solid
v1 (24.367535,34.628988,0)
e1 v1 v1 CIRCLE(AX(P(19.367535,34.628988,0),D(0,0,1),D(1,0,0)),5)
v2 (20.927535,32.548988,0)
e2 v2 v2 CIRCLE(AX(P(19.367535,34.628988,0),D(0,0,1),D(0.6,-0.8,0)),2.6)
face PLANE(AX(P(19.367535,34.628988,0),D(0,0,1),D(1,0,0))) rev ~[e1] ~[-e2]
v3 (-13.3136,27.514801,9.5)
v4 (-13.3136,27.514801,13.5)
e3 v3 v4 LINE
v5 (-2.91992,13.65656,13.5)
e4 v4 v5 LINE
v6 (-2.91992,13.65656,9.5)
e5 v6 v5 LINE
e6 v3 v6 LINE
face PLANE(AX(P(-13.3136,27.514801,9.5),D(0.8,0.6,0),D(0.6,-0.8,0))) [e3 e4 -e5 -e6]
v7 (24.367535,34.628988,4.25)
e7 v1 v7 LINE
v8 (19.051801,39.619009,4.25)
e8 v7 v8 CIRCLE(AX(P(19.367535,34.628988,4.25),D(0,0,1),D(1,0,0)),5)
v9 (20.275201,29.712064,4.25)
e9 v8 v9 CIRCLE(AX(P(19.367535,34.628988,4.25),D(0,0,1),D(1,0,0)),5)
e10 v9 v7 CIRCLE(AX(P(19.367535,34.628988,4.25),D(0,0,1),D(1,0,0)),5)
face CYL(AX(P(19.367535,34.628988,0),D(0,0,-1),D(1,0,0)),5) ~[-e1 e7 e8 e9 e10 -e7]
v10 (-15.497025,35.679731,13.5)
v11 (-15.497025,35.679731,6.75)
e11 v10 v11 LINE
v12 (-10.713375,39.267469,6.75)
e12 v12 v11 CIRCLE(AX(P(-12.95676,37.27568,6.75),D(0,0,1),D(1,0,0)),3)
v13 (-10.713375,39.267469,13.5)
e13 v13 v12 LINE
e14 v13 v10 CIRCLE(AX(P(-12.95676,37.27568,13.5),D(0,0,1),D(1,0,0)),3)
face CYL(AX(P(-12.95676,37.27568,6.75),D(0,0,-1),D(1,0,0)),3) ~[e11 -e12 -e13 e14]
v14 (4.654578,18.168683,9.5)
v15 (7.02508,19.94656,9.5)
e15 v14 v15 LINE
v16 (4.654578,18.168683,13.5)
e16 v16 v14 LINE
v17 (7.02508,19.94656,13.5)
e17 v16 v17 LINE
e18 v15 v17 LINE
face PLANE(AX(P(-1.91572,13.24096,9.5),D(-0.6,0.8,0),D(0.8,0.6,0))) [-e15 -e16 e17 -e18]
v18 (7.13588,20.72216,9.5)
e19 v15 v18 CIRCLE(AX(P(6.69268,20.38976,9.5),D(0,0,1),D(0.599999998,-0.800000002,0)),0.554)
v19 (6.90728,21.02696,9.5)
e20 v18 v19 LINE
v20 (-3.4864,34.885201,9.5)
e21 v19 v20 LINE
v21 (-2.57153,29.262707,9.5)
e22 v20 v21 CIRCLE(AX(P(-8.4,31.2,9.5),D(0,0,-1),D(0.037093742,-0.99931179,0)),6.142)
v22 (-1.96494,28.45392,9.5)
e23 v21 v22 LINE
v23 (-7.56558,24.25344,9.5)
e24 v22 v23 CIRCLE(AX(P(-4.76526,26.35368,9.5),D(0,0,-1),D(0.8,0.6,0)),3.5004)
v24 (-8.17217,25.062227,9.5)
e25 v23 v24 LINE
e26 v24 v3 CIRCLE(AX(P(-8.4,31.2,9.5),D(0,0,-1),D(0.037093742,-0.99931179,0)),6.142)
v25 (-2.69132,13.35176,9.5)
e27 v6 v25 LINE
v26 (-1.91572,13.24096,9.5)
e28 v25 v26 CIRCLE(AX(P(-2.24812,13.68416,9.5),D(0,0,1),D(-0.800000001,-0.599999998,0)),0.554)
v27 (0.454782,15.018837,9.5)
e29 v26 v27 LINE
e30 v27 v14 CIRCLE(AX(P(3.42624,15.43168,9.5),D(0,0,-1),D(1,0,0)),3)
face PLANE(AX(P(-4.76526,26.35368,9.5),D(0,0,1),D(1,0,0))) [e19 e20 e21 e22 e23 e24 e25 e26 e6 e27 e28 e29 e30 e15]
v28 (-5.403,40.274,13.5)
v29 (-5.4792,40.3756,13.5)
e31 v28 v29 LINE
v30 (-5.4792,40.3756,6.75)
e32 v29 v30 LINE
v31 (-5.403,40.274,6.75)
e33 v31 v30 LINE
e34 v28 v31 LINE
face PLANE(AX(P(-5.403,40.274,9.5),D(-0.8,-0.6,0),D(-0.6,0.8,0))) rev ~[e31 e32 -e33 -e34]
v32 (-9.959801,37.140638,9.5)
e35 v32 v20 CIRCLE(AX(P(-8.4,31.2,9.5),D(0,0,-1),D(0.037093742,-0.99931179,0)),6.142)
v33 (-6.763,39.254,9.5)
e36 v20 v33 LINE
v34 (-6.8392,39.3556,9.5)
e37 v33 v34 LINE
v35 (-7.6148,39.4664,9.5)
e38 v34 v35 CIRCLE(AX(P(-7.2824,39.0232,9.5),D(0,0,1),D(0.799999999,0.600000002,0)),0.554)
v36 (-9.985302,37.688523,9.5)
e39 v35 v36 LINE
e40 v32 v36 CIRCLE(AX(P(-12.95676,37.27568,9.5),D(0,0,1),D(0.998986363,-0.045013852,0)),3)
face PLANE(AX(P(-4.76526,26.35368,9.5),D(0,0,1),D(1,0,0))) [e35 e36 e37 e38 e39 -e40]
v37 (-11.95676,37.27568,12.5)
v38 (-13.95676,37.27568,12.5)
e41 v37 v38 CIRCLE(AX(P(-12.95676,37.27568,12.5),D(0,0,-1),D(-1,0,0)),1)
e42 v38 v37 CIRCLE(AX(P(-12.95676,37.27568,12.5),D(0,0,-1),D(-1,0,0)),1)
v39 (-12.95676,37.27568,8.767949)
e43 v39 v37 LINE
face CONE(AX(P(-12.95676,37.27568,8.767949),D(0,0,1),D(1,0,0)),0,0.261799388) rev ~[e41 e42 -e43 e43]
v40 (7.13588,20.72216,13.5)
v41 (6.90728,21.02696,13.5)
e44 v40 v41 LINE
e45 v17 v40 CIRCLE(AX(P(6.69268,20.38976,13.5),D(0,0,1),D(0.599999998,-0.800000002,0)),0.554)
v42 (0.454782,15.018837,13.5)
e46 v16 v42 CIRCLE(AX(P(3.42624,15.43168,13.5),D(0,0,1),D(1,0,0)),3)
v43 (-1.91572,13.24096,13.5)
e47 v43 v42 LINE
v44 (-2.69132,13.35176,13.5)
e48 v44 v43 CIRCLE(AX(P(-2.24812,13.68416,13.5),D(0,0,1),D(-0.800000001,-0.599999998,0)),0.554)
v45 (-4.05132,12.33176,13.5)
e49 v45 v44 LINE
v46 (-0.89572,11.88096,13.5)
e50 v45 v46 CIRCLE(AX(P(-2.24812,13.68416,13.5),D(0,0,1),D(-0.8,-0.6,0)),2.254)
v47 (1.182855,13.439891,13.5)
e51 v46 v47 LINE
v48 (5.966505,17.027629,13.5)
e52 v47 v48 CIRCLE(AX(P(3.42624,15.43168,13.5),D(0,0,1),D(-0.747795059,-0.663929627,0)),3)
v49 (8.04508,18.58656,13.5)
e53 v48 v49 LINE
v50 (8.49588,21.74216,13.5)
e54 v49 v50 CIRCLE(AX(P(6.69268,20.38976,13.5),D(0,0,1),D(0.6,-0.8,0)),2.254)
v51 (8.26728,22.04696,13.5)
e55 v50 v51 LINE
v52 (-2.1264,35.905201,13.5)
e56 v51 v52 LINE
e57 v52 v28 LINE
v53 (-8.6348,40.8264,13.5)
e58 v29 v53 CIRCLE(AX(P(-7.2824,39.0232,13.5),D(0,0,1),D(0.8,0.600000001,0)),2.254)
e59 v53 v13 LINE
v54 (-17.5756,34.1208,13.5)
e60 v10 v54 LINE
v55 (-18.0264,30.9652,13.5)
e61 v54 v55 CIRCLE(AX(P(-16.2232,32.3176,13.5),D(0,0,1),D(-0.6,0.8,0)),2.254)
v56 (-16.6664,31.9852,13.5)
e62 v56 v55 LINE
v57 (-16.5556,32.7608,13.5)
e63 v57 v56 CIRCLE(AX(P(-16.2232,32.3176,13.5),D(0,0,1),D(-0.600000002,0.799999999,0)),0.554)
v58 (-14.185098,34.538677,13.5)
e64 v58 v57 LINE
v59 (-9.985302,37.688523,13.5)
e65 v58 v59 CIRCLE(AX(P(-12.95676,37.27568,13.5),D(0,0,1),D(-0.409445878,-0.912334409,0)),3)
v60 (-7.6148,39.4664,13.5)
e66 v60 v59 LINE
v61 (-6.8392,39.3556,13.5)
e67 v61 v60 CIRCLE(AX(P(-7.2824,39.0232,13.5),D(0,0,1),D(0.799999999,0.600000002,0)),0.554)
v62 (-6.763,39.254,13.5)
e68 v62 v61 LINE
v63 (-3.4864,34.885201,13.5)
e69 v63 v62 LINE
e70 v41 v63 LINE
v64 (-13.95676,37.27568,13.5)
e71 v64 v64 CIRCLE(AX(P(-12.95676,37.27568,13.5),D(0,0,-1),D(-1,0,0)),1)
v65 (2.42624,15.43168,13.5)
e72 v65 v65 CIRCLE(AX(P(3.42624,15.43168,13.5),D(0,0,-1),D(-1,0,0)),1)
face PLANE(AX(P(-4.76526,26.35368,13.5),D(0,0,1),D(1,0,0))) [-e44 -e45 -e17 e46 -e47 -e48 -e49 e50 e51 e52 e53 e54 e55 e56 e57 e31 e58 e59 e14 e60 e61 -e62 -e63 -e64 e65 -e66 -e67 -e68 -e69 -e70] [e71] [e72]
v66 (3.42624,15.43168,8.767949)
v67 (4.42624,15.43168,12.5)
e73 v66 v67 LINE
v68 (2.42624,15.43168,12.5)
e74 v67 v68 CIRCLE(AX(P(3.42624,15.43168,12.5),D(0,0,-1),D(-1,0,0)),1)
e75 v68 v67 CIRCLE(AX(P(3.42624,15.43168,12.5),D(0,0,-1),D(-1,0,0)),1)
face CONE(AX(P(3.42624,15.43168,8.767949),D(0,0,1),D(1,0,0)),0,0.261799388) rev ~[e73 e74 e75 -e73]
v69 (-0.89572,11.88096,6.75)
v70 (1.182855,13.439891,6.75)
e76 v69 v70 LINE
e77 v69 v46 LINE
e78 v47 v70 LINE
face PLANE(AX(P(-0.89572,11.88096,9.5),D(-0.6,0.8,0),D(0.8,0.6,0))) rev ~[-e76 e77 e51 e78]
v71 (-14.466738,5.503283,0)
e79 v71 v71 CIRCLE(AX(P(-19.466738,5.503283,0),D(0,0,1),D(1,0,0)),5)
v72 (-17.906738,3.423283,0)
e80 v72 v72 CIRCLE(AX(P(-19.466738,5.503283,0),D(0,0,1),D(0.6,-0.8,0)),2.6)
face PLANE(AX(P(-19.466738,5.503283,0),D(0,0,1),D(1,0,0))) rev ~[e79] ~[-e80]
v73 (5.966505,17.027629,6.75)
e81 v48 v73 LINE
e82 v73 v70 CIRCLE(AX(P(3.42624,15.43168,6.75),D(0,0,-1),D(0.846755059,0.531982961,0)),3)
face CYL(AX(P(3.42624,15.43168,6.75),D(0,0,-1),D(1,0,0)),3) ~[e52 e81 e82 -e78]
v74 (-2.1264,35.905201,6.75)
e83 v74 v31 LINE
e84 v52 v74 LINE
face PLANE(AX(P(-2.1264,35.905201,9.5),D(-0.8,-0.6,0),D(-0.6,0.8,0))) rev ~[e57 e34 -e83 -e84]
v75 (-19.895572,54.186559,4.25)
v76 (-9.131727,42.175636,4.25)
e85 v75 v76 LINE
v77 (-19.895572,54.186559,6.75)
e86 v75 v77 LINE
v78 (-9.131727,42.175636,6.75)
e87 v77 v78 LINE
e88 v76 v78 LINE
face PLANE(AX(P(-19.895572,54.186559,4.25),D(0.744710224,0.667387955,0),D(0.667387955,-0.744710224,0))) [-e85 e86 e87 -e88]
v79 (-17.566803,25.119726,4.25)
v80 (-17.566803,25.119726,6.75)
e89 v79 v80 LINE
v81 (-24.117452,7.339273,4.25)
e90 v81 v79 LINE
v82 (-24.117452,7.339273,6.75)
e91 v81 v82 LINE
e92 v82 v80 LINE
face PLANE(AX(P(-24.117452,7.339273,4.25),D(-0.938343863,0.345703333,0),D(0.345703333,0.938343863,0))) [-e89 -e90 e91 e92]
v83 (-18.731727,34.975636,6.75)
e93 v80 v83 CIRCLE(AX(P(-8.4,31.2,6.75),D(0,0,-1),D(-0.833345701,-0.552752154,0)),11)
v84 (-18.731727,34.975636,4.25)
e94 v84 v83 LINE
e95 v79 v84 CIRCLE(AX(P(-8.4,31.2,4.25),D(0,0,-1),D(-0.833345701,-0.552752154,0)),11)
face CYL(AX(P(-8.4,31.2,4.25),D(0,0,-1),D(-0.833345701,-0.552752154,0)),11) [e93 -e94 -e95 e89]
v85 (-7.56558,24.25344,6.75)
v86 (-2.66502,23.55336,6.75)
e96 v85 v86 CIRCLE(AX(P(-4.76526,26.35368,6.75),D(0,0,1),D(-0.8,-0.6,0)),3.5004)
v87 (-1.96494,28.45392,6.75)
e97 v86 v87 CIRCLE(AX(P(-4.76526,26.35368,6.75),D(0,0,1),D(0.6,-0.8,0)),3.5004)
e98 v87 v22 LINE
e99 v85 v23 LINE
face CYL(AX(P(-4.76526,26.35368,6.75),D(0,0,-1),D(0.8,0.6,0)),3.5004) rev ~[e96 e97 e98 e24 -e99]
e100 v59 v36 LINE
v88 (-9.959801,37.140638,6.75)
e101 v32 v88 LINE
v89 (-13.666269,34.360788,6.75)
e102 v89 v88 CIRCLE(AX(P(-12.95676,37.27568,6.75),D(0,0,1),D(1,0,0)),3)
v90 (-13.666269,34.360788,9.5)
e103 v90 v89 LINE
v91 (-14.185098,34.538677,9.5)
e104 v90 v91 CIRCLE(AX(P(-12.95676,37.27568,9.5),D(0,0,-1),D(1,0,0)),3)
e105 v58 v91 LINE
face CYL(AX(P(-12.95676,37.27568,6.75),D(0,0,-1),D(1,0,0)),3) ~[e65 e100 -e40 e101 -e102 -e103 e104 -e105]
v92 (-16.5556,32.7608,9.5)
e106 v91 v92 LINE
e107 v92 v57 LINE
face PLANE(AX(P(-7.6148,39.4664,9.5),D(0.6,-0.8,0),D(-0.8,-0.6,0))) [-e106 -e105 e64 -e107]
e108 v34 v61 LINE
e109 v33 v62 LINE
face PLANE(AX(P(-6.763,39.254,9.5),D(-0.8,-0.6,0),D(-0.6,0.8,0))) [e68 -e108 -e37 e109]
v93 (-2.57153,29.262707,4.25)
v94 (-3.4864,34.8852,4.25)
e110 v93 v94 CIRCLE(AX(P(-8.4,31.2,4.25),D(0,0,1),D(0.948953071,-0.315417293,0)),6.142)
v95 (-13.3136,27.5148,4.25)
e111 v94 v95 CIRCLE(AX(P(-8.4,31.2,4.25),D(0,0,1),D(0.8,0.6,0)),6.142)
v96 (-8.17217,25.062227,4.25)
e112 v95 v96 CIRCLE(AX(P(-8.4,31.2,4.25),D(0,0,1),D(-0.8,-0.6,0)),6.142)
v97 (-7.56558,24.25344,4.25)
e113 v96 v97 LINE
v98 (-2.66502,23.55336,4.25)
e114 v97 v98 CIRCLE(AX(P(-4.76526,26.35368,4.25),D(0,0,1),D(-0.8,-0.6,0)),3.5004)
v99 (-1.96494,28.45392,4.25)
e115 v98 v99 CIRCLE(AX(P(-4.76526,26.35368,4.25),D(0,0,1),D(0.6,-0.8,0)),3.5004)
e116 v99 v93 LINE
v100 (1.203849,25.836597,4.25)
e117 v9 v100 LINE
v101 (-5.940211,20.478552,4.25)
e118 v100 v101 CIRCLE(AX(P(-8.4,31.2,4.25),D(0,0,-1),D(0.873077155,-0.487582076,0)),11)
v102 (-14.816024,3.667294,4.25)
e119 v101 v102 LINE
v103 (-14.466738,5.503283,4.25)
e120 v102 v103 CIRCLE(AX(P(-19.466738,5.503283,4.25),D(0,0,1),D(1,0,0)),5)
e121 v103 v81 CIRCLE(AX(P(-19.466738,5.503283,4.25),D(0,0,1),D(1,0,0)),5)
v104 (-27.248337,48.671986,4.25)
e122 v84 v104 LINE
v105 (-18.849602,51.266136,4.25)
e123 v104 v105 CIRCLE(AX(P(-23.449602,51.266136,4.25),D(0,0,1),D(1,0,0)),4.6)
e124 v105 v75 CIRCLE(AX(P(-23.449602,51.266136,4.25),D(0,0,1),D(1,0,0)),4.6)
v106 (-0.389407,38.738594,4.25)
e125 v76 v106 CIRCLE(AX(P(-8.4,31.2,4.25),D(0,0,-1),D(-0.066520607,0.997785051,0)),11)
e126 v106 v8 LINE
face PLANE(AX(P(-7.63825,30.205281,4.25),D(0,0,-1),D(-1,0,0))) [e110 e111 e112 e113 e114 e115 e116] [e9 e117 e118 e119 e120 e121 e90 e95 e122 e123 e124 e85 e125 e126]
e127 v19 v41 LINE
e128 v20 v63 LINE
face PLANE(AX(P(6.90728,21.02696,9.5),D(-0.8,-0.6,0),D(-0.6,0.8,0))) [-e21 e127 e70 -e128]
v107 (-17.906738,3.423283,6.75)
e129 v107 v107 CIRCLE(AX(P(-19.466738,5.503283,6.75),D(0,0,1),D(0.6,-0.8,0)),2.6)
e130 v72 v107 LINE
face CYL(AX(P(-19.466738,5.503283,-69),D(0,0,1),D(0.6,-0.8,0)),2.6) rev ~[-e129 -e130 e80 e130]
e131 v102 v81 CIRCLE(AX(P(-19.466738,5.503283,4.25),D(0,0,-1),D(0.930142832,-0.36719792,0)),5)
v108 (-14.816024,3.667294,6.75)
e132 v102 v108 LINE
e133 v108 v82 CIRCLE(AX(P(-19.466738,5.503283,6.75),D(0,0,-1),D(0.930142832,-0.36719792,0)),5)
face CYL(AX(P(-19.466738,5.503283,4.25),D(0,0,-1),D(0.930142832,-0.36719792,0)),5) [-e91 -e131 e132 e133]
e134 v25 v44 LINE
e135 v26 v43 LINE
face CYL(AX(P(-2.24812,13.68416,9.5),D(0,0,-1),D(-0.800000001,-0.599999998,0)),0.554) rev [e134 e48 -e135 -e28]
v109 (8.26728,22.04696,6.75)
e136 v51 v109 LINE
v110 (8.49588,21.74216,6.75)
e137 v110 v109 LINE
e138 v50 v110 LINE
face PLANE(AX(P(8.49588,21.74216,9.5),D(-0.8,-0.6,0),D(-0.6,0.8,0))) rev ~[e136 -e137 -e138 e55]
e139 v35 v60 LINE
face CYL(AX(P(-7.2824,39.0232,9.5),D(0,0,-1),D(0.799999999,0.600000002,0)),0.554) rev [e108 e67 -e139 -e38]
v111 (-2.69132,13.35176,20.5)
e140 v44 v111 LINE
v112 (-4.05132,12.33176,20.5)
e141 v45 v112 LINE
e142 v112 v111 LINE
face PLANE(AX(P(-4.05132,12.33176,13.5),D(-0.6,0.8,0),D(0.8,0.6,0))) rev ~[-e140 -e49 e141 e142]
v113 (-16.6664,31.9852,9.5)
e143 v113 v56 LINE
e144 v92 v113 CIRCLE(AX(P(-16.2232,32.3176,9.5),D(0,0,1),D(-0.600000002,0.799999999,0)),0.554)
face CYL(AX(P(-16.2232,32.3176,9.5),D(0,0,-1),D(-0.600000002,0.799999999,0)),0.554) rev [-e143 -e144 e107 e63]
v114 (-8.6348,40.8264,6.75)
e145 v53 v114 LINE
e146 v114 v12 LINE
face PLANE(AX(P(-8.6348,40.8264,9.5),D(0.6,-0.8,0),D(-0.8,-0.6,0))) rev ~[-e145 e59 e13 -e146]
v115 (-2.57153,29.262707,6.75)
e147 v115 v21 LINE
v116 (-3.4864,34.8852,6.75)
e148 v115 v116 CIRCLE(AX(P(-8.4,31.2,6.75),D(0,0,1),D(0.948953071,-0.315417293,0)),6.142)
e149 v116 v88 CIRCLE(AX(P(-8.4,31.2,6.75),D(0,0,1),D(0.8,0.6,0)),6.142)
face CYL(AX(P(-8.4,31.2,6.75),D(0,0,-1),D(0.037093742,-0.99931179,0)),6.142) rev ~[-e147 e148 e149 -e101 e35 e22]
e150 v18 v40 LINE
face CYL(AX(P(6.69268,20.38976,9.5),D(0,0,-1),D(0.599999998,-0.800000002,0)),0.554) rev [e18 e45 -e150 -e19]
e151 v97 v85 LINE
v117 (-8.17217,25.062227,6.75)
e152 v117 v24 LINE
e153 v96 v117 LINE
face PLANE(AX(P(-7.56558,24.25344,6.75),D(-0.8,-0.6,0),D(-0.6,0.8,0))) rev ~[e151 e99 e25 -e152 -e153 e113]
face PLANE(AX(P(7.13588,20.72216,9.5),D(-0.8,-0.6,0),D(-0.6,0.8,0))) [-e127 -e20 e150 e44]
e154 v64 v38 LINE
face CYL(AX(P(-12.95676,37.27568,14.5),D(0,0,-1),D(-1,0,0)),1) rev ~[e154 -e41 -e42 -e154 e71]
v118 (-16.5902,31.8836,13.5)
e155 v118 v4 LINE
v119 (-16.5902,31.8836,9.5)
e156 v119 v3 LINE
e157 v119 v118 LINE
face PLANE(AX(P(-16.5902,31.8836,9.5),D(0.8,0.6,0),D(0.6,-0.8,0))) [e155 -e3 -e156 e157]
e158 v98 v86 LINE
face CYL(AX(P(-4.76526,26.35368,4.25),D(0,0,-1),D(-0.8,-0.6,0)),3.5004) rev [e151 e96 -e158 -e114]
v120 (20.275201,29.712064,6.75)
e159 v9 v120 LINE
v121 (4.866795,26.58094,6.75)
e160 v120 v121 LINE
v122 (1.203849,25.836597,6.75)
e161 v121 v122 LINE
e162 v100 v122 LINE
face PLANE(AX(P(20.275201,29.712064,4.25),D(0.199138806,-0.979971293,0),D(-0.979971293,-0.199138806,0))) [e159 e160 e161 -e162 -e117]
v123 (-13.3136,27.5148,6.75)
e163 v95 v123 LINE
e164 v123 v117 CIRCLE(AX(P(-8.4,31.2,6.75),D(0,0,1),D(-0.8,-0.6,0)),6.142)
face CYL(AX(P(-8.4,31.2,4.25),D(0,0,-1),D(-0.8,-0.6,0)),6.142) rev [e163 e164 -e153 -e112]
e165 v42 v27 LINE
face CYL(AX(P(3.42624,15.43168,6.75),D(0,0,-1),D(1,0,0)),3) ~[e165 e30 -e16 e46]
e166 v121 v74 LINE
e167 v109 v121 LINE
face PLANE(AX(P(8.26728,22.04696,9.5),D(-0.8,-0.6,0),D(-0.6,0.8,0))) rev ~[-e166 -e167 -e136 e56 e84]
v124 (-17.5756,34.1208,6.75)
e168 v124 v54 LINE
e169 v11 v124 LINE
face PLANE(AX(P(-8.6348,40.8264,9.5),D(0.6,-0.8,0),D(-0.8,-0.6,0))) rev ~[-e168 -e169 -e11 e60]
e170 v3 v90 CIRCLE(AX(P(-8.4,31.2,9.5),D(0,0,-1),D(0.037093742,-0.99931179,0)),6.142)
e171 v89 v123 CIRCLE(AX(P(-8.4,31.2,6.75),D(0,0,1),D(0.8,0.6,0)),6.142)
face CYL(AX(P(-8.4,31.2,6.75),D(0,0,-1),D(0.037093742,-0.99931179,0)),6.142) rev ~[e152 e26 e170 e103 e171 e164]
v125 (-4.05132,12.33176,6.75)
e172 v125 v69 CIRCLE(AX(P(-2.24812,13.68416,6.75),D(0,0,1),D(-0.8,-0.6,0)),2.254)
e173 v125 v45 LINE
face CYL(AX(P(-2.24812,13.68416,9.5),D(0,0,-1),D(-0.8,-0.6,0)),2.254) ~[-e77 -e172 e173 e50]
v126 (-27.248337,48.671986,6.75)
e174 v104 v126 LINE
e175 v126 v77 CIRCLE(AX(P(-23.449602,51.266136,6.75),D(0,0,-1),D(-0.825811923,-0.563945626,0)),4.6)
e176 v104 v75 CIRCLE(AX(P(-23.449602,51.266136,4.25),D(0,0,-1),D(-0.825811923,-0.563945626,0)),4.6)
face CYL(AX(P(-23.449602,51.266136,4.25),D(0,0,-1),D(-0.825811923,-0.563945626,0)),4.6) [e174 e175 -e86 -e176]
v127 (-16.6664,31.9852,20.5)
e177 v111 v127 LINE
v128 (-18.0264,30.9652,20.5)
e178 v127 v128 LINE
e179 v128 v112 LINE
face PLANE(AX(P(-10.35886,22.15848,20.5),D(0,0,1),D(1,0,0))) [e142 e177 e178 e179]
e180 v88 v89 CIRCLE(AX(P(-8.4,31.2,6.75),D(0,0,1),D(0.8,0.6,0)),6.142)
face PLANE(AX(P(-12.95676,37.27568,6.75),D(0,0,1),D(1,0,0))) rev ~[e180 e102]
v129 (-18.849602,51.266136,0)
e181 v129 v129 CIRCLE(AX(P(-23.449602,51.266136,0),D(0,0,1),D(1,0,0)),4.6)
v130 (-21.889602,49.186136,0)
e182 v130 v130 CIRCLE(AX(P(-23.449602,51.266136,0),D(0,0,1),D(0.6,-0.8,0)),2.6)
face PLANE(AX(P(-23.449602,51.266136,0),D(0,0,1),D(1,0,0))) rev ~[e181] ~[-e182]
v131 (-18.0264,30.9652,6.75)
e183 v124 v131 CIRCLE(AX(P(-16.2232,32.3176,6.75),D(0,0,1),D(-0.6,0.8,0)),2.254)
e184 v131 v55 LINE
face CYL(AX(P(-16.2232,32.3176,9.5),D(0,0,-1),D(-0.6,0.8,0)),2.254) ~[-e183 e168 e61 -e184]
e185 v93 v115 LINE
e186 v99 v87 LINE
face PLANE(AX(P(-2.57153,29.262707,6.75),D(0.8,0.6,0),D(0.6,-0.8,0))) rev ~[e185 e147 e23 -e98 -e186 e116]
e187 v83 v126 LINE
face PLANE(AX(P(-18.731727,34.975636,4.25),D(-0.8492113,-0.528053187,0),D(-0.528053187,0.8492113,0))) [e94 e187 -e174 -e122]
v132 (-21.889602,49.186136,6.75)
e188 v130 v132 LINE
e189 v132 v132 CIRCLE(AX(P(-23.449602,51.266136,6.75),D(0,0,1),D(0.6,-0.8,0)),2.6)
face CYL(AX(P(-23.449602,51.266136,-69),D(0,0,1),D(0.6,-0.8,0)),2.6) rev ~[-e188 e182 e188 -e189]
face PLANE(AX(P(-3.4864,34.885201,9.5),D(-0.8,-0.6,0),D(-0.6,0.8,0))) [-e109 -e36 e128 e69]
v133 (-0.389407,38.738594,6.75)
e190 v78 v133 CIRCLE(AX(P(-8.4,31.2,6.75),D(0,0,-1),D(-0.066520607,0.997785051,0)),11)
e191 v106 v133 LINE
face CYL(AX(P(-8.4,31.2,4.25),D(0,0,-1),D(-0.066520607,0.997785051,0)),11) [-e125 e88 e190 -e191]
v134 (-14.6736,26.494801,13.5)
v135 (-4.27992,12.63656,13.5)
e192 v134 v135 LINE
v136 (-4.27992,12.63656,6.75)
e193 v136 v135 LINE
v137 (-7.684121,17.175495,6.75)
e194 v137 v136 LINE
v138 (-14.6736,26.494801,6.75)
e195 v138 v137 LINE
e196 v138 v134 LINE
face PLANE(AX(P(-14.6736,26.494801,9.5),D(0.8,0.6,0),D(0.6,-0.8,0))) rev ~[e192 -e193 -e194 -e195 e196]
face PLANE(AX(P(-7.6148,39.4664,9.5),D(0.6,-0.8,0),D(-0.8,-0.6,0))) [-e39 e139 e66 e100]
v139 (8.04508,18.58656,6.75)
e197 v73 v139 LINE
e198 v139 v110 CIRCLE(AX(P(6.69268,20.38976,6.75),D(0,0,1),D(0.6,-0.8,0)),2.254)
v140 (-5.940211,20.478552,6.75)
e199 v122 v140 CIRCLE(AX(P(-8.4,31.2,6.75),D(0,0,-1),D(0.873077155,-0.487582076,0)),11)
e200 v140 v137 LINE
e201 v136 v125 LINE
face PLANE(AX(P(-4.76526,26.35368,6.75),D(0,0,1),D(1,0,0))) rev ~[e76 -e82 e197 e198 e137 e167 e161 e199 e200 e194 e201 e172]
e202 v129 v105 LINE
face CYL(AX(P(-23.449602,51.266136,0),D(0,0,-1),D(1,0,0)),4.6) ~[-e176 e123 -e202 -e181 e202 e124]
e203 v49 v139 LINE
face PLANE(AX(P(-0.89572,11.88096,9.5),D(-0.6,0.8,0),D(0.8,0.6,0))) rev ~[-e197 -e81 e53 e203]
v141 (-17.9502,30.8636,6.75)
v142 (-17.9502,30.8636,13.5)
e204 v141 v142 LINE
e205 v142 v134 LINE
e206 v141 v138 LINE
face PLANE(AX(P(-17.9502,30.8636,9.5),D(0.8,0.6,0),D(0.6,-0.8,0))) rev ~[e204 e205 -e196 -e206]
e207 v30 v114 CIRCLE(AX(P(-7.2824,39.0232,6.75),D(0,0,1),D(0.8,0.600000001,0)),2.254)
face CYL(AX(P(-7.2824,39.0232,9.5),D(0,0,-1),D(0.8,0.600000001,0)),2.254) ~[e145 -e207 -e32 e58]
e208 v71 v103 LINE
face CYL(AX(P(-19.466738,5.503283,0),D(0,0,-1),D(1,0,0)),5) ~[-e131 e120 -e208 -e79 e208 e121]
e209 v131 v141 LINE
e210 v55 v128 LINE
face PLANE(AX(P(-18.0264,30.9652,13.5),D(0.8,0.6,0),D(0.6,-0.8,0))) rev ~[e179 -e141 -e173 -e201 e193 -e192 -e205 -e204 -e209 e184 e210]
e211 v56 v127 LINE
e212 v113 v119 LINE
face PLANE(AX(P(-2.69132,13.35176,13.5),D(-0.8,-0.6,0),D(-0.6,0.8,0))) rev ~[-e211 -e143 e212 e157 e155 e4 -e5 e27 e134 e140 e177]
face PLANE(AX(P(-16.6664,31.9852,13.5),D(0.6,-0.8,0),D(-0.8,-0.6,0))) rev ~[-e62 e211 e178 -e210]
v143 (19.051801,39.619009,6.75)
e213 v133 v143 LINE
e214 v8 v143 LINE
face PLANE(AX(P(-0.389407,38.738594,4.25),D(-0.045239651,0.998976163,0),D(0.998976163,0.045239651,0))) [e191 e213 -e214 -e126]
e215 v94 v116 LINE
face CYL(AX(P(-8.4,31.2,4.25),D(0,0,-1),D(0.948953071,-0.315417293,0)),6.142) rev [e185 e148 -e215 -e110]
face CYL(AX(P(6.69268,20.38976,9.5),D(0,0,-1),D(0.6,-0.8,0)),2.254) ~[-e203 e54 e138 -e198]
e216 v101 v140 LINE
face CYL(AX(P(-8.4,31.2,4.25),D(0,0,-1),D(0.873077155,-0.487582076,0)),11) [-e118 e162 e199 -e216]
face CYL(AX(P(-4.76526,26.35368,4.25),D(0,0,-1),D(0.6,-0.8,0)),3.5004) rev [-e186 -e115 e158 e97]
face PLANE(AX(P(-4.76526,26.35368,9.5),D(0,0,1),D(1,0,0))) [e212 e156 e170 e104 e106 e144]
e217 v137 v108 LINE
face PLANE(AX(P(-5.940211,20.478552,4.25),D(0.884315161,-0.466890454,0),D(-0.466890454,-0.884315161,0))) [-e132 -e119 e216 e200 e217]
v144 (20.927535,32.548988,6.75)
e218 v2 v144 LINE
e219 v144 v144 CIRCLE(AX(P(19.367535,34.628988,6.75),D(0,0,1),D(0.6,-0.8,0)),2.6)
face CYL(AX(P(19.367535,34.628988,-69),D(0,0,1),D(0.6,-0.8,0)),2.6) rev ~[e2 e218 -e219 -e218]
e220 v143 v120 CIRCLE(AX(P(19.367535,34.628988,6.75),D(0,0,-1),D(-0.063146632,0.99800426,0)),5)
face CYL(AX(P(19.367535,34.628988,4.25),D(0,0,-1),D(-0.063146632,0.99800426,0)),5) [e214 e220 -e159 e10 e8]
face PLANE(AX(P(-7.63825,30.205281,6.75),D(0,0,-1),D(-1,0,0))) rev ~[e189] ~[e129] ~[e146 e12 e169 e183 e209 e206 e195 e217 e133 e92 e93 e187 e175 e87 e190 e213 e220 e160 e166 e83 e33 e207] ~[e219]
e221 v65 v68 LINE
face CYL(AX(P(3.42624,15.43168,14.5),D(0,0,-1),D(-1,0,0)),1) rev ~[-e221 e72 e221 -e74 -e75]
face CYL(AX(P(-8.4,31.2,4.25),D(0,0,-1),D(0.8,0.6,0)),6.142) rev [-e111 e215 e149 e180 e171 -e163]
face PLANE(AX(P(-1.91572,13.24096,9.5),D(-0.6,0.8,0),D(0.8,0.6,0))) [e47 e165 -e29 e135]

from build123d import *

# Parameters (mm, degrees)
SKETCH1_R                      = 5
BOSS_EXTRUDE1_DEPTH            = 4.25
BOSS_EXTRUDE1_2_DEPTH          = 4.25
SKETCH1_R_2                    = 4.6
BOSS_EXTRUDE1_3_DEPTH          = 4.25
BOSS_EXTRUDE2_DEPTH            = 2.5
BOSS_EXTRUDE3_DEPTH            = 2.75
BOSS_EXTRUDE4_DEPTH            = 4
BOSS_EXTRUDE5_START            = -6.75
SKETCH7_R                      = 3
BOSS_EXTRUDE5_DEPTH            = 6.75
BOSS_EXTRUDE6_DEPTH            = 7
F_2_0_2_DIAMETER_HOLE1_D       = 2
F_2_0_2_DIAMETER_HOLE1_DEPTH   = 1
F_2_0_2_DIAMETER_HOLE1_TIP     = 3.732050808
F_5_2_5_2_DIAMETER_HOLE1_D     = 5.2
F_5_2_5_2_DIAMETER_HOLE1_DEPTH = 41
F_5_2_5_2_DIAMETER_HOLE1_TIP   = 1.562237609


with BuildPart() as part:
    # Sketch1 → Boss-Extrude1 (new body)
    with BuildSketch(Plane.XY):
        with Locations((19.367534606, 34.628988105)):
            Circle(SKETCH1_R)
    extrude(amount=BOSS_EXTRUDE1_DEPTH)



with BuildPart() as body_2:
    # Sketch1 → Boss-Extrude1 2 (new body)
    with BuildSketch(Plane.XY):
        with Locations((-19.466738271, 5.503283448)):
            Circle(SKETCH1_R)
    extrude(amount=BOSS_EXTRUDE1_2_DEPTH)


with BuildPart() as body_3:
    # Sketch1 → Boss-Extrude1 3 (new body)
    with BuildSketch(Plane.XY):
        with Locations((-23.449601832, 51.266135777)):
            Circle(SKETCH1_R_2)
    extrude(amount=BOSS_EXTRUDE1_3_DEPTH)


with BuildPart() as part_1:
    add(part.part)

    add(body_2.part)  # Boss-Extrude2 merges body 2

    add(body_3.part)  # Boss-Extrude2 merges body 3
    # Sketch3 → Boss-Extrude2 (add)
    with BuildSketch(Plane.XY.offset(4.25)):
        with BuildLine():
            Line((-19.895572194, 54.186559261), (-9.131726679, 42.175635572))
            ThreePointArc((-9.131726679, 42.175635572), (-4.375228584, 41.437246463), (-0.389407444, 38.738594493))
            Line((-0.389407444, 38.738594493), (19.051801444, 39.619009405))
            ThreePointArc((19.051801444, 39.619009405), (24.329841267, 35.241778932), (20.275201283, 29.712064148))
            Line((20.275201283, 29.712064148), (1.203848705, 25.836597173))
            ThreePointArc((1.203848705, 25.836597173), (-1.800000005, 22.400000007), (-5.940210923, 20.478552452))
            Line((-5.940210923, 20.478552452), (-14.816024112, 3.667293848))
            ThreePointArc((-14.816024112, 3.667293848), (-21.302727871, 0.852569289), (-24.11745243, 7.339273048))
            Line((-24.11745243, 7.339273048), (-17.566802713, 25.119726319))
            ThreePointArc((-17.566802713, 25.119726319), (-19.323959856, 29.908837282), (-18.731726679, 34.975635572))
            Line((-18.731726679, 34.975635572), (-27.248336676, 48.671985899))
            ThreePointArc((-27.248336676, 48.671985899), (-26.209601832, 54.946135777), (-19.895572194, 54.186559261))
        make_face()
        with BuildLine():
            Line((-8.172170243, 25.06222699), (-7.565580005, 24.253440007))
            ThreePointArc((-7.565580005, 24.253440007), (-5.26029132, 22.888460799), (-2.665020005, 23.553360007))
            ThreePointArc((-2.665020005, 23.553360007), (-1.300040797, 25.858648691), (-1.964940005, 28.453920007))
            Line((-1.964940005, 28.453920007), (-2.571530243, 29.26270699))
            ThreePointArc((-2.571530243, 29.26270699), (-2.337729587, 32.186428603), (-3.486400005, 34.885200007))
            ThreePointArc((-3.486400005, 34.885200007), (-12.085200005, 36.113600007), (-13.313600005, 27.514800007))
            ThreePointArc((-13.313600005, 27.514800007), (-11.044407175, 25.656420412), (-8.172170243, 25.06222699))
        make_face(mode=Mode.SUBTRACT)
    extrude(amount=BOSS_EXTRUDE2_DEPTH)

    # Sketch5 → Boss-Extrude3 (add)
    with BuildSketch(Plane.XY.offset(6.75)):
        with BuildLine():
            Line((8.495879995, 21.742160007), (8.267279995, 22.046960007))
            Line((8.267279995, 22.046960007), (-2.126400462, 35.905200616))
            Line((-2.126400462, 35.905200616), (-5.403000005, 40.274000007))
            Line((-5.403000005, 40.274000007), (-5.479200005, 40.375600007))
            ThreePointArc((-5.479200005, 40.375600007), (-6.963636268, 41.254546165), (-8.634800005, 40.826400007))
            Line((-8.634800005, 40.826400007), (-13.105200005, 37.473600007))
            Line((-13.105200005, 37.473600007), (-17.575600005, 34.120800007))
            ThreePointArc((-17.575600005, 34.120800007), (-18.454546164, 32.636363744), (-18.026400005, 30.965200007))
            Line((-18.026400005, 30.965200007), (-17.950200005, 30.863600007))
            Line((-17.950200005, 30.863600007), (-14.673600388, 26.494800517))
            Line((-14.673600388, 26.494800517), (-4.279920005, 12.636560007))
            Line((-4.279920005, 12.636560007), (-4.051320005, 12.331760007))
            ThreePointArc((-4.051320005, 12.331760007), (-2.566883742, 11.452813848), (-0.895720005, 11.880960007))
            Line((-0.895720005, 11.880960007), (8.045079995, 18.586560007))
            ThreePointArc((8.045079995, 18.586560007), (8.924026154, 20.07099627), (8.495879995, 21.742160007))
        make_face()
        with BuildLine():
            Line((-7.565580005, 24.253440007), (-8.172170243, 25.06222699))
            ThreePointArc((-8.172170243, 25.06222699), (-12.085200005, 36.113600007), (-2.571530243, 29.26270699))
            Line((-2.571530243, 29.26270699), (-1.964940005, 28.453920007))
            ThreePointArc((-1.964940005, 28.453920007), (-2.665020005, 23.553360007), (-7.565580005, 24.253440007))
        make_face(mode=Mode.SUBTRACT)
    extrude(amount=BOSS_EXTRUDE3_DEPTH)

    # Sketch6 → Boss-Extrude4 (add)
    with BuildSketch(Plane.XY.offset(9.5)):
        with BuildLine():
            Line((-8.634800005, 40.826400007), (-13.105200005, 37.473600007))
            Line((-13.105200005, 37.473600007), (-17.575600005, 34.120800007))
            ThreePointArc((-17.575600005, 34.120800007), (-18.454546164, 32.636363744), (-18.026400005, 30.965200007))
            Line((-18.026400005, 30.965200007), (-17.950200005, 30.863600007))
            Line((-17.950200005, 30.863600007), (-14.673600388, 26.494800517))
            Line((-14.673600388, 26.494800517), (-4.279920005, 12.636560007))
            Line((-4.279920005, 12.636560007), (-4.051320005, 12.331760007))
            ThreePointArc((-4.051320005, 12.331760007), (-2.566883742, 11.452813848), (-0.895720005, 11.880960007))
            Line((-0.895720005, 11.880960007), (8.045079995, 18.586560007))
            ThreePointArc((8.045079995, 18.586560007), (8.924026154, 20.07099627), (8.495879995, 21.742160007))
            Line((8.495879995, 21.742160007), (8.267279995, 22.046960007))
            Line((8.267279995, 22.046960007), (-2.126400462, 35.905200616))
            Line((-2.126400462, 35.905200616), (-5.403000005, 40.274000007))
            Line((-5.403000005, 40.274000007), (-5.479200005, 40.375600007))
            ThreePointArc((-5.479200005, 40.375600007), (-6.963636268, 41.254546165), (-8.634800005, 40.826400007))
        make_face()
        with BuildLine():
            Line((6.907279995, 21.026960007), (-3.486400462, 34.885200616))
            Line((-3.486400462, 34.885200616), (-6.763000005, 39.254000007))
            Line((-6.763000005, 39.254000007), (-6.839200005, 39.355600007))
            ThreePointArc((-6.839200005, 39.355600007), (-7.204052574, 39.571632026), (-7.614800005, 39.466400007))
            Line((-7.614800005, 39.466400007), (-12.085200005, 36.113600007))
            Line((-12.085200005, 36.113600007), (-16.555600005, 32.760800007))
            ThreePointArc((-16.555600005, 32.760800007), (-16.771632024, 32.395947438), (-16.666400005, 31.985200007))
            Line((-16.666400005, 31.985200007), (-16.590200005, 31.883600007))
            Line((-16.590200005, 31.883600007), (-13.313600388, 27.514800517))
            Line((-13.313600388, 27.514800517), (-2.919920005, 13.656560007))
            Line((-2.919920005, 13.656560007), (-2.691320005, 13.351760007))
            ThreePointArc((-2.691320005, 13.351760007), (-2.326467436, 13.135727987), (-1.915720005, 13.240960007))
            Line((-1.915720005, 13.240960007), (7.025079995, 19.946560007))
            ThreePointArc((7.025079995, 19.946560007), (7.241112015, 20.311412575), (7.135879995, 20.722160007))
            Line((7.135879995, 20.722160007), (6.907279995, 21.026960007))
        make_face(mode=Mode.SUBTRACT)
    extrude(amount=BOSS_EXTRUDE4_DEPTH)

    # Sketch7 → Boss-Extrude5 (add)
    with BuildSketch(Plane.XY.offset(13.5).offset(BOSS_EXTRUDE5_START)):
        with Locations((-12.956760005, 37.275680007)):
            Circle(SKETCH7_R)
        with Locations((3.426239995, 15.431680007)):
            Circle(SKETCH7_R)
    extrude(amount=BOSS_EXTRUDE5_DEPTH)

    # Sketch8 → Boss-Extrude6 (add)
    with BuildSketch(Plane.XY.offset(13.5)):
        Polygon((-16.666400005, 31.985200007), (-18.026400005, 30.965200007), (-4.051320005, 12.331760007), (-2.691320005, 13.351760007), align=None)
    extrude(amount=BOSS_EXTRUDE6_DEPTH)

    # Ø2.0 (2) Diameter Hole1
    with Locations(Plane.XY.offset(13.5)):
        with Locations((-12.956760005, 37.275680007), (3.426239995, 15.431680007)):
            Hole(F_2_0_2_DIAMETER_HOLE1_D / 2, depth=F_2_0_2_DIAMETER_HOLE1_DEPTH)
            with Locations((0, 0, -(F_2_0_2_DIAMETER_HOLE1_DEPTH + F_2_0_2_DIAMETER_HOLE1_TIP / 2))):  # 30° drill point
                Cone(0, F_2_0_2_DIAMETER_HOLE1_D / 2, F_2_0_2_DIAMETER_HOLE1_TIP, mode=Mode.SUBTRACT)

    # Ø5.2 (5.2) Diameter Hole1
    with Locations(Plane(origin=(-108.726431202, 76.790635104, -28), x_dir=(-0.6000000000000003, 0.7999999999999998, 4.198929075555247e-15), z_dir=(0, 0, -1))):
        with Locations((-110.585697084, 28.635343351), (-71.585697084, 52.906763899), (-110.585697084, 77.178184447)):
            Hole(F_5_2_5_2_DIAMETER_HOLE1_D / 2, depth=F_5_2_5_2_DIAMETER_HOLE1_DEPTH)
            with Locations((0, 0, -(F_5_2_5_2_DIAMETER_HOLE1_DEPTH + F_5_2_5_2_DIAMETER_HOLE1_TIP / 2))):  # 118° drill point
                Cone(0, F_5_2_5_2_DIAMETER_HOLE1_D / 2, F_5_2_5_2_DIAMETER_HOLE1_TIP, mode=Mode.SUBTRACT)


solid = part_1.part
